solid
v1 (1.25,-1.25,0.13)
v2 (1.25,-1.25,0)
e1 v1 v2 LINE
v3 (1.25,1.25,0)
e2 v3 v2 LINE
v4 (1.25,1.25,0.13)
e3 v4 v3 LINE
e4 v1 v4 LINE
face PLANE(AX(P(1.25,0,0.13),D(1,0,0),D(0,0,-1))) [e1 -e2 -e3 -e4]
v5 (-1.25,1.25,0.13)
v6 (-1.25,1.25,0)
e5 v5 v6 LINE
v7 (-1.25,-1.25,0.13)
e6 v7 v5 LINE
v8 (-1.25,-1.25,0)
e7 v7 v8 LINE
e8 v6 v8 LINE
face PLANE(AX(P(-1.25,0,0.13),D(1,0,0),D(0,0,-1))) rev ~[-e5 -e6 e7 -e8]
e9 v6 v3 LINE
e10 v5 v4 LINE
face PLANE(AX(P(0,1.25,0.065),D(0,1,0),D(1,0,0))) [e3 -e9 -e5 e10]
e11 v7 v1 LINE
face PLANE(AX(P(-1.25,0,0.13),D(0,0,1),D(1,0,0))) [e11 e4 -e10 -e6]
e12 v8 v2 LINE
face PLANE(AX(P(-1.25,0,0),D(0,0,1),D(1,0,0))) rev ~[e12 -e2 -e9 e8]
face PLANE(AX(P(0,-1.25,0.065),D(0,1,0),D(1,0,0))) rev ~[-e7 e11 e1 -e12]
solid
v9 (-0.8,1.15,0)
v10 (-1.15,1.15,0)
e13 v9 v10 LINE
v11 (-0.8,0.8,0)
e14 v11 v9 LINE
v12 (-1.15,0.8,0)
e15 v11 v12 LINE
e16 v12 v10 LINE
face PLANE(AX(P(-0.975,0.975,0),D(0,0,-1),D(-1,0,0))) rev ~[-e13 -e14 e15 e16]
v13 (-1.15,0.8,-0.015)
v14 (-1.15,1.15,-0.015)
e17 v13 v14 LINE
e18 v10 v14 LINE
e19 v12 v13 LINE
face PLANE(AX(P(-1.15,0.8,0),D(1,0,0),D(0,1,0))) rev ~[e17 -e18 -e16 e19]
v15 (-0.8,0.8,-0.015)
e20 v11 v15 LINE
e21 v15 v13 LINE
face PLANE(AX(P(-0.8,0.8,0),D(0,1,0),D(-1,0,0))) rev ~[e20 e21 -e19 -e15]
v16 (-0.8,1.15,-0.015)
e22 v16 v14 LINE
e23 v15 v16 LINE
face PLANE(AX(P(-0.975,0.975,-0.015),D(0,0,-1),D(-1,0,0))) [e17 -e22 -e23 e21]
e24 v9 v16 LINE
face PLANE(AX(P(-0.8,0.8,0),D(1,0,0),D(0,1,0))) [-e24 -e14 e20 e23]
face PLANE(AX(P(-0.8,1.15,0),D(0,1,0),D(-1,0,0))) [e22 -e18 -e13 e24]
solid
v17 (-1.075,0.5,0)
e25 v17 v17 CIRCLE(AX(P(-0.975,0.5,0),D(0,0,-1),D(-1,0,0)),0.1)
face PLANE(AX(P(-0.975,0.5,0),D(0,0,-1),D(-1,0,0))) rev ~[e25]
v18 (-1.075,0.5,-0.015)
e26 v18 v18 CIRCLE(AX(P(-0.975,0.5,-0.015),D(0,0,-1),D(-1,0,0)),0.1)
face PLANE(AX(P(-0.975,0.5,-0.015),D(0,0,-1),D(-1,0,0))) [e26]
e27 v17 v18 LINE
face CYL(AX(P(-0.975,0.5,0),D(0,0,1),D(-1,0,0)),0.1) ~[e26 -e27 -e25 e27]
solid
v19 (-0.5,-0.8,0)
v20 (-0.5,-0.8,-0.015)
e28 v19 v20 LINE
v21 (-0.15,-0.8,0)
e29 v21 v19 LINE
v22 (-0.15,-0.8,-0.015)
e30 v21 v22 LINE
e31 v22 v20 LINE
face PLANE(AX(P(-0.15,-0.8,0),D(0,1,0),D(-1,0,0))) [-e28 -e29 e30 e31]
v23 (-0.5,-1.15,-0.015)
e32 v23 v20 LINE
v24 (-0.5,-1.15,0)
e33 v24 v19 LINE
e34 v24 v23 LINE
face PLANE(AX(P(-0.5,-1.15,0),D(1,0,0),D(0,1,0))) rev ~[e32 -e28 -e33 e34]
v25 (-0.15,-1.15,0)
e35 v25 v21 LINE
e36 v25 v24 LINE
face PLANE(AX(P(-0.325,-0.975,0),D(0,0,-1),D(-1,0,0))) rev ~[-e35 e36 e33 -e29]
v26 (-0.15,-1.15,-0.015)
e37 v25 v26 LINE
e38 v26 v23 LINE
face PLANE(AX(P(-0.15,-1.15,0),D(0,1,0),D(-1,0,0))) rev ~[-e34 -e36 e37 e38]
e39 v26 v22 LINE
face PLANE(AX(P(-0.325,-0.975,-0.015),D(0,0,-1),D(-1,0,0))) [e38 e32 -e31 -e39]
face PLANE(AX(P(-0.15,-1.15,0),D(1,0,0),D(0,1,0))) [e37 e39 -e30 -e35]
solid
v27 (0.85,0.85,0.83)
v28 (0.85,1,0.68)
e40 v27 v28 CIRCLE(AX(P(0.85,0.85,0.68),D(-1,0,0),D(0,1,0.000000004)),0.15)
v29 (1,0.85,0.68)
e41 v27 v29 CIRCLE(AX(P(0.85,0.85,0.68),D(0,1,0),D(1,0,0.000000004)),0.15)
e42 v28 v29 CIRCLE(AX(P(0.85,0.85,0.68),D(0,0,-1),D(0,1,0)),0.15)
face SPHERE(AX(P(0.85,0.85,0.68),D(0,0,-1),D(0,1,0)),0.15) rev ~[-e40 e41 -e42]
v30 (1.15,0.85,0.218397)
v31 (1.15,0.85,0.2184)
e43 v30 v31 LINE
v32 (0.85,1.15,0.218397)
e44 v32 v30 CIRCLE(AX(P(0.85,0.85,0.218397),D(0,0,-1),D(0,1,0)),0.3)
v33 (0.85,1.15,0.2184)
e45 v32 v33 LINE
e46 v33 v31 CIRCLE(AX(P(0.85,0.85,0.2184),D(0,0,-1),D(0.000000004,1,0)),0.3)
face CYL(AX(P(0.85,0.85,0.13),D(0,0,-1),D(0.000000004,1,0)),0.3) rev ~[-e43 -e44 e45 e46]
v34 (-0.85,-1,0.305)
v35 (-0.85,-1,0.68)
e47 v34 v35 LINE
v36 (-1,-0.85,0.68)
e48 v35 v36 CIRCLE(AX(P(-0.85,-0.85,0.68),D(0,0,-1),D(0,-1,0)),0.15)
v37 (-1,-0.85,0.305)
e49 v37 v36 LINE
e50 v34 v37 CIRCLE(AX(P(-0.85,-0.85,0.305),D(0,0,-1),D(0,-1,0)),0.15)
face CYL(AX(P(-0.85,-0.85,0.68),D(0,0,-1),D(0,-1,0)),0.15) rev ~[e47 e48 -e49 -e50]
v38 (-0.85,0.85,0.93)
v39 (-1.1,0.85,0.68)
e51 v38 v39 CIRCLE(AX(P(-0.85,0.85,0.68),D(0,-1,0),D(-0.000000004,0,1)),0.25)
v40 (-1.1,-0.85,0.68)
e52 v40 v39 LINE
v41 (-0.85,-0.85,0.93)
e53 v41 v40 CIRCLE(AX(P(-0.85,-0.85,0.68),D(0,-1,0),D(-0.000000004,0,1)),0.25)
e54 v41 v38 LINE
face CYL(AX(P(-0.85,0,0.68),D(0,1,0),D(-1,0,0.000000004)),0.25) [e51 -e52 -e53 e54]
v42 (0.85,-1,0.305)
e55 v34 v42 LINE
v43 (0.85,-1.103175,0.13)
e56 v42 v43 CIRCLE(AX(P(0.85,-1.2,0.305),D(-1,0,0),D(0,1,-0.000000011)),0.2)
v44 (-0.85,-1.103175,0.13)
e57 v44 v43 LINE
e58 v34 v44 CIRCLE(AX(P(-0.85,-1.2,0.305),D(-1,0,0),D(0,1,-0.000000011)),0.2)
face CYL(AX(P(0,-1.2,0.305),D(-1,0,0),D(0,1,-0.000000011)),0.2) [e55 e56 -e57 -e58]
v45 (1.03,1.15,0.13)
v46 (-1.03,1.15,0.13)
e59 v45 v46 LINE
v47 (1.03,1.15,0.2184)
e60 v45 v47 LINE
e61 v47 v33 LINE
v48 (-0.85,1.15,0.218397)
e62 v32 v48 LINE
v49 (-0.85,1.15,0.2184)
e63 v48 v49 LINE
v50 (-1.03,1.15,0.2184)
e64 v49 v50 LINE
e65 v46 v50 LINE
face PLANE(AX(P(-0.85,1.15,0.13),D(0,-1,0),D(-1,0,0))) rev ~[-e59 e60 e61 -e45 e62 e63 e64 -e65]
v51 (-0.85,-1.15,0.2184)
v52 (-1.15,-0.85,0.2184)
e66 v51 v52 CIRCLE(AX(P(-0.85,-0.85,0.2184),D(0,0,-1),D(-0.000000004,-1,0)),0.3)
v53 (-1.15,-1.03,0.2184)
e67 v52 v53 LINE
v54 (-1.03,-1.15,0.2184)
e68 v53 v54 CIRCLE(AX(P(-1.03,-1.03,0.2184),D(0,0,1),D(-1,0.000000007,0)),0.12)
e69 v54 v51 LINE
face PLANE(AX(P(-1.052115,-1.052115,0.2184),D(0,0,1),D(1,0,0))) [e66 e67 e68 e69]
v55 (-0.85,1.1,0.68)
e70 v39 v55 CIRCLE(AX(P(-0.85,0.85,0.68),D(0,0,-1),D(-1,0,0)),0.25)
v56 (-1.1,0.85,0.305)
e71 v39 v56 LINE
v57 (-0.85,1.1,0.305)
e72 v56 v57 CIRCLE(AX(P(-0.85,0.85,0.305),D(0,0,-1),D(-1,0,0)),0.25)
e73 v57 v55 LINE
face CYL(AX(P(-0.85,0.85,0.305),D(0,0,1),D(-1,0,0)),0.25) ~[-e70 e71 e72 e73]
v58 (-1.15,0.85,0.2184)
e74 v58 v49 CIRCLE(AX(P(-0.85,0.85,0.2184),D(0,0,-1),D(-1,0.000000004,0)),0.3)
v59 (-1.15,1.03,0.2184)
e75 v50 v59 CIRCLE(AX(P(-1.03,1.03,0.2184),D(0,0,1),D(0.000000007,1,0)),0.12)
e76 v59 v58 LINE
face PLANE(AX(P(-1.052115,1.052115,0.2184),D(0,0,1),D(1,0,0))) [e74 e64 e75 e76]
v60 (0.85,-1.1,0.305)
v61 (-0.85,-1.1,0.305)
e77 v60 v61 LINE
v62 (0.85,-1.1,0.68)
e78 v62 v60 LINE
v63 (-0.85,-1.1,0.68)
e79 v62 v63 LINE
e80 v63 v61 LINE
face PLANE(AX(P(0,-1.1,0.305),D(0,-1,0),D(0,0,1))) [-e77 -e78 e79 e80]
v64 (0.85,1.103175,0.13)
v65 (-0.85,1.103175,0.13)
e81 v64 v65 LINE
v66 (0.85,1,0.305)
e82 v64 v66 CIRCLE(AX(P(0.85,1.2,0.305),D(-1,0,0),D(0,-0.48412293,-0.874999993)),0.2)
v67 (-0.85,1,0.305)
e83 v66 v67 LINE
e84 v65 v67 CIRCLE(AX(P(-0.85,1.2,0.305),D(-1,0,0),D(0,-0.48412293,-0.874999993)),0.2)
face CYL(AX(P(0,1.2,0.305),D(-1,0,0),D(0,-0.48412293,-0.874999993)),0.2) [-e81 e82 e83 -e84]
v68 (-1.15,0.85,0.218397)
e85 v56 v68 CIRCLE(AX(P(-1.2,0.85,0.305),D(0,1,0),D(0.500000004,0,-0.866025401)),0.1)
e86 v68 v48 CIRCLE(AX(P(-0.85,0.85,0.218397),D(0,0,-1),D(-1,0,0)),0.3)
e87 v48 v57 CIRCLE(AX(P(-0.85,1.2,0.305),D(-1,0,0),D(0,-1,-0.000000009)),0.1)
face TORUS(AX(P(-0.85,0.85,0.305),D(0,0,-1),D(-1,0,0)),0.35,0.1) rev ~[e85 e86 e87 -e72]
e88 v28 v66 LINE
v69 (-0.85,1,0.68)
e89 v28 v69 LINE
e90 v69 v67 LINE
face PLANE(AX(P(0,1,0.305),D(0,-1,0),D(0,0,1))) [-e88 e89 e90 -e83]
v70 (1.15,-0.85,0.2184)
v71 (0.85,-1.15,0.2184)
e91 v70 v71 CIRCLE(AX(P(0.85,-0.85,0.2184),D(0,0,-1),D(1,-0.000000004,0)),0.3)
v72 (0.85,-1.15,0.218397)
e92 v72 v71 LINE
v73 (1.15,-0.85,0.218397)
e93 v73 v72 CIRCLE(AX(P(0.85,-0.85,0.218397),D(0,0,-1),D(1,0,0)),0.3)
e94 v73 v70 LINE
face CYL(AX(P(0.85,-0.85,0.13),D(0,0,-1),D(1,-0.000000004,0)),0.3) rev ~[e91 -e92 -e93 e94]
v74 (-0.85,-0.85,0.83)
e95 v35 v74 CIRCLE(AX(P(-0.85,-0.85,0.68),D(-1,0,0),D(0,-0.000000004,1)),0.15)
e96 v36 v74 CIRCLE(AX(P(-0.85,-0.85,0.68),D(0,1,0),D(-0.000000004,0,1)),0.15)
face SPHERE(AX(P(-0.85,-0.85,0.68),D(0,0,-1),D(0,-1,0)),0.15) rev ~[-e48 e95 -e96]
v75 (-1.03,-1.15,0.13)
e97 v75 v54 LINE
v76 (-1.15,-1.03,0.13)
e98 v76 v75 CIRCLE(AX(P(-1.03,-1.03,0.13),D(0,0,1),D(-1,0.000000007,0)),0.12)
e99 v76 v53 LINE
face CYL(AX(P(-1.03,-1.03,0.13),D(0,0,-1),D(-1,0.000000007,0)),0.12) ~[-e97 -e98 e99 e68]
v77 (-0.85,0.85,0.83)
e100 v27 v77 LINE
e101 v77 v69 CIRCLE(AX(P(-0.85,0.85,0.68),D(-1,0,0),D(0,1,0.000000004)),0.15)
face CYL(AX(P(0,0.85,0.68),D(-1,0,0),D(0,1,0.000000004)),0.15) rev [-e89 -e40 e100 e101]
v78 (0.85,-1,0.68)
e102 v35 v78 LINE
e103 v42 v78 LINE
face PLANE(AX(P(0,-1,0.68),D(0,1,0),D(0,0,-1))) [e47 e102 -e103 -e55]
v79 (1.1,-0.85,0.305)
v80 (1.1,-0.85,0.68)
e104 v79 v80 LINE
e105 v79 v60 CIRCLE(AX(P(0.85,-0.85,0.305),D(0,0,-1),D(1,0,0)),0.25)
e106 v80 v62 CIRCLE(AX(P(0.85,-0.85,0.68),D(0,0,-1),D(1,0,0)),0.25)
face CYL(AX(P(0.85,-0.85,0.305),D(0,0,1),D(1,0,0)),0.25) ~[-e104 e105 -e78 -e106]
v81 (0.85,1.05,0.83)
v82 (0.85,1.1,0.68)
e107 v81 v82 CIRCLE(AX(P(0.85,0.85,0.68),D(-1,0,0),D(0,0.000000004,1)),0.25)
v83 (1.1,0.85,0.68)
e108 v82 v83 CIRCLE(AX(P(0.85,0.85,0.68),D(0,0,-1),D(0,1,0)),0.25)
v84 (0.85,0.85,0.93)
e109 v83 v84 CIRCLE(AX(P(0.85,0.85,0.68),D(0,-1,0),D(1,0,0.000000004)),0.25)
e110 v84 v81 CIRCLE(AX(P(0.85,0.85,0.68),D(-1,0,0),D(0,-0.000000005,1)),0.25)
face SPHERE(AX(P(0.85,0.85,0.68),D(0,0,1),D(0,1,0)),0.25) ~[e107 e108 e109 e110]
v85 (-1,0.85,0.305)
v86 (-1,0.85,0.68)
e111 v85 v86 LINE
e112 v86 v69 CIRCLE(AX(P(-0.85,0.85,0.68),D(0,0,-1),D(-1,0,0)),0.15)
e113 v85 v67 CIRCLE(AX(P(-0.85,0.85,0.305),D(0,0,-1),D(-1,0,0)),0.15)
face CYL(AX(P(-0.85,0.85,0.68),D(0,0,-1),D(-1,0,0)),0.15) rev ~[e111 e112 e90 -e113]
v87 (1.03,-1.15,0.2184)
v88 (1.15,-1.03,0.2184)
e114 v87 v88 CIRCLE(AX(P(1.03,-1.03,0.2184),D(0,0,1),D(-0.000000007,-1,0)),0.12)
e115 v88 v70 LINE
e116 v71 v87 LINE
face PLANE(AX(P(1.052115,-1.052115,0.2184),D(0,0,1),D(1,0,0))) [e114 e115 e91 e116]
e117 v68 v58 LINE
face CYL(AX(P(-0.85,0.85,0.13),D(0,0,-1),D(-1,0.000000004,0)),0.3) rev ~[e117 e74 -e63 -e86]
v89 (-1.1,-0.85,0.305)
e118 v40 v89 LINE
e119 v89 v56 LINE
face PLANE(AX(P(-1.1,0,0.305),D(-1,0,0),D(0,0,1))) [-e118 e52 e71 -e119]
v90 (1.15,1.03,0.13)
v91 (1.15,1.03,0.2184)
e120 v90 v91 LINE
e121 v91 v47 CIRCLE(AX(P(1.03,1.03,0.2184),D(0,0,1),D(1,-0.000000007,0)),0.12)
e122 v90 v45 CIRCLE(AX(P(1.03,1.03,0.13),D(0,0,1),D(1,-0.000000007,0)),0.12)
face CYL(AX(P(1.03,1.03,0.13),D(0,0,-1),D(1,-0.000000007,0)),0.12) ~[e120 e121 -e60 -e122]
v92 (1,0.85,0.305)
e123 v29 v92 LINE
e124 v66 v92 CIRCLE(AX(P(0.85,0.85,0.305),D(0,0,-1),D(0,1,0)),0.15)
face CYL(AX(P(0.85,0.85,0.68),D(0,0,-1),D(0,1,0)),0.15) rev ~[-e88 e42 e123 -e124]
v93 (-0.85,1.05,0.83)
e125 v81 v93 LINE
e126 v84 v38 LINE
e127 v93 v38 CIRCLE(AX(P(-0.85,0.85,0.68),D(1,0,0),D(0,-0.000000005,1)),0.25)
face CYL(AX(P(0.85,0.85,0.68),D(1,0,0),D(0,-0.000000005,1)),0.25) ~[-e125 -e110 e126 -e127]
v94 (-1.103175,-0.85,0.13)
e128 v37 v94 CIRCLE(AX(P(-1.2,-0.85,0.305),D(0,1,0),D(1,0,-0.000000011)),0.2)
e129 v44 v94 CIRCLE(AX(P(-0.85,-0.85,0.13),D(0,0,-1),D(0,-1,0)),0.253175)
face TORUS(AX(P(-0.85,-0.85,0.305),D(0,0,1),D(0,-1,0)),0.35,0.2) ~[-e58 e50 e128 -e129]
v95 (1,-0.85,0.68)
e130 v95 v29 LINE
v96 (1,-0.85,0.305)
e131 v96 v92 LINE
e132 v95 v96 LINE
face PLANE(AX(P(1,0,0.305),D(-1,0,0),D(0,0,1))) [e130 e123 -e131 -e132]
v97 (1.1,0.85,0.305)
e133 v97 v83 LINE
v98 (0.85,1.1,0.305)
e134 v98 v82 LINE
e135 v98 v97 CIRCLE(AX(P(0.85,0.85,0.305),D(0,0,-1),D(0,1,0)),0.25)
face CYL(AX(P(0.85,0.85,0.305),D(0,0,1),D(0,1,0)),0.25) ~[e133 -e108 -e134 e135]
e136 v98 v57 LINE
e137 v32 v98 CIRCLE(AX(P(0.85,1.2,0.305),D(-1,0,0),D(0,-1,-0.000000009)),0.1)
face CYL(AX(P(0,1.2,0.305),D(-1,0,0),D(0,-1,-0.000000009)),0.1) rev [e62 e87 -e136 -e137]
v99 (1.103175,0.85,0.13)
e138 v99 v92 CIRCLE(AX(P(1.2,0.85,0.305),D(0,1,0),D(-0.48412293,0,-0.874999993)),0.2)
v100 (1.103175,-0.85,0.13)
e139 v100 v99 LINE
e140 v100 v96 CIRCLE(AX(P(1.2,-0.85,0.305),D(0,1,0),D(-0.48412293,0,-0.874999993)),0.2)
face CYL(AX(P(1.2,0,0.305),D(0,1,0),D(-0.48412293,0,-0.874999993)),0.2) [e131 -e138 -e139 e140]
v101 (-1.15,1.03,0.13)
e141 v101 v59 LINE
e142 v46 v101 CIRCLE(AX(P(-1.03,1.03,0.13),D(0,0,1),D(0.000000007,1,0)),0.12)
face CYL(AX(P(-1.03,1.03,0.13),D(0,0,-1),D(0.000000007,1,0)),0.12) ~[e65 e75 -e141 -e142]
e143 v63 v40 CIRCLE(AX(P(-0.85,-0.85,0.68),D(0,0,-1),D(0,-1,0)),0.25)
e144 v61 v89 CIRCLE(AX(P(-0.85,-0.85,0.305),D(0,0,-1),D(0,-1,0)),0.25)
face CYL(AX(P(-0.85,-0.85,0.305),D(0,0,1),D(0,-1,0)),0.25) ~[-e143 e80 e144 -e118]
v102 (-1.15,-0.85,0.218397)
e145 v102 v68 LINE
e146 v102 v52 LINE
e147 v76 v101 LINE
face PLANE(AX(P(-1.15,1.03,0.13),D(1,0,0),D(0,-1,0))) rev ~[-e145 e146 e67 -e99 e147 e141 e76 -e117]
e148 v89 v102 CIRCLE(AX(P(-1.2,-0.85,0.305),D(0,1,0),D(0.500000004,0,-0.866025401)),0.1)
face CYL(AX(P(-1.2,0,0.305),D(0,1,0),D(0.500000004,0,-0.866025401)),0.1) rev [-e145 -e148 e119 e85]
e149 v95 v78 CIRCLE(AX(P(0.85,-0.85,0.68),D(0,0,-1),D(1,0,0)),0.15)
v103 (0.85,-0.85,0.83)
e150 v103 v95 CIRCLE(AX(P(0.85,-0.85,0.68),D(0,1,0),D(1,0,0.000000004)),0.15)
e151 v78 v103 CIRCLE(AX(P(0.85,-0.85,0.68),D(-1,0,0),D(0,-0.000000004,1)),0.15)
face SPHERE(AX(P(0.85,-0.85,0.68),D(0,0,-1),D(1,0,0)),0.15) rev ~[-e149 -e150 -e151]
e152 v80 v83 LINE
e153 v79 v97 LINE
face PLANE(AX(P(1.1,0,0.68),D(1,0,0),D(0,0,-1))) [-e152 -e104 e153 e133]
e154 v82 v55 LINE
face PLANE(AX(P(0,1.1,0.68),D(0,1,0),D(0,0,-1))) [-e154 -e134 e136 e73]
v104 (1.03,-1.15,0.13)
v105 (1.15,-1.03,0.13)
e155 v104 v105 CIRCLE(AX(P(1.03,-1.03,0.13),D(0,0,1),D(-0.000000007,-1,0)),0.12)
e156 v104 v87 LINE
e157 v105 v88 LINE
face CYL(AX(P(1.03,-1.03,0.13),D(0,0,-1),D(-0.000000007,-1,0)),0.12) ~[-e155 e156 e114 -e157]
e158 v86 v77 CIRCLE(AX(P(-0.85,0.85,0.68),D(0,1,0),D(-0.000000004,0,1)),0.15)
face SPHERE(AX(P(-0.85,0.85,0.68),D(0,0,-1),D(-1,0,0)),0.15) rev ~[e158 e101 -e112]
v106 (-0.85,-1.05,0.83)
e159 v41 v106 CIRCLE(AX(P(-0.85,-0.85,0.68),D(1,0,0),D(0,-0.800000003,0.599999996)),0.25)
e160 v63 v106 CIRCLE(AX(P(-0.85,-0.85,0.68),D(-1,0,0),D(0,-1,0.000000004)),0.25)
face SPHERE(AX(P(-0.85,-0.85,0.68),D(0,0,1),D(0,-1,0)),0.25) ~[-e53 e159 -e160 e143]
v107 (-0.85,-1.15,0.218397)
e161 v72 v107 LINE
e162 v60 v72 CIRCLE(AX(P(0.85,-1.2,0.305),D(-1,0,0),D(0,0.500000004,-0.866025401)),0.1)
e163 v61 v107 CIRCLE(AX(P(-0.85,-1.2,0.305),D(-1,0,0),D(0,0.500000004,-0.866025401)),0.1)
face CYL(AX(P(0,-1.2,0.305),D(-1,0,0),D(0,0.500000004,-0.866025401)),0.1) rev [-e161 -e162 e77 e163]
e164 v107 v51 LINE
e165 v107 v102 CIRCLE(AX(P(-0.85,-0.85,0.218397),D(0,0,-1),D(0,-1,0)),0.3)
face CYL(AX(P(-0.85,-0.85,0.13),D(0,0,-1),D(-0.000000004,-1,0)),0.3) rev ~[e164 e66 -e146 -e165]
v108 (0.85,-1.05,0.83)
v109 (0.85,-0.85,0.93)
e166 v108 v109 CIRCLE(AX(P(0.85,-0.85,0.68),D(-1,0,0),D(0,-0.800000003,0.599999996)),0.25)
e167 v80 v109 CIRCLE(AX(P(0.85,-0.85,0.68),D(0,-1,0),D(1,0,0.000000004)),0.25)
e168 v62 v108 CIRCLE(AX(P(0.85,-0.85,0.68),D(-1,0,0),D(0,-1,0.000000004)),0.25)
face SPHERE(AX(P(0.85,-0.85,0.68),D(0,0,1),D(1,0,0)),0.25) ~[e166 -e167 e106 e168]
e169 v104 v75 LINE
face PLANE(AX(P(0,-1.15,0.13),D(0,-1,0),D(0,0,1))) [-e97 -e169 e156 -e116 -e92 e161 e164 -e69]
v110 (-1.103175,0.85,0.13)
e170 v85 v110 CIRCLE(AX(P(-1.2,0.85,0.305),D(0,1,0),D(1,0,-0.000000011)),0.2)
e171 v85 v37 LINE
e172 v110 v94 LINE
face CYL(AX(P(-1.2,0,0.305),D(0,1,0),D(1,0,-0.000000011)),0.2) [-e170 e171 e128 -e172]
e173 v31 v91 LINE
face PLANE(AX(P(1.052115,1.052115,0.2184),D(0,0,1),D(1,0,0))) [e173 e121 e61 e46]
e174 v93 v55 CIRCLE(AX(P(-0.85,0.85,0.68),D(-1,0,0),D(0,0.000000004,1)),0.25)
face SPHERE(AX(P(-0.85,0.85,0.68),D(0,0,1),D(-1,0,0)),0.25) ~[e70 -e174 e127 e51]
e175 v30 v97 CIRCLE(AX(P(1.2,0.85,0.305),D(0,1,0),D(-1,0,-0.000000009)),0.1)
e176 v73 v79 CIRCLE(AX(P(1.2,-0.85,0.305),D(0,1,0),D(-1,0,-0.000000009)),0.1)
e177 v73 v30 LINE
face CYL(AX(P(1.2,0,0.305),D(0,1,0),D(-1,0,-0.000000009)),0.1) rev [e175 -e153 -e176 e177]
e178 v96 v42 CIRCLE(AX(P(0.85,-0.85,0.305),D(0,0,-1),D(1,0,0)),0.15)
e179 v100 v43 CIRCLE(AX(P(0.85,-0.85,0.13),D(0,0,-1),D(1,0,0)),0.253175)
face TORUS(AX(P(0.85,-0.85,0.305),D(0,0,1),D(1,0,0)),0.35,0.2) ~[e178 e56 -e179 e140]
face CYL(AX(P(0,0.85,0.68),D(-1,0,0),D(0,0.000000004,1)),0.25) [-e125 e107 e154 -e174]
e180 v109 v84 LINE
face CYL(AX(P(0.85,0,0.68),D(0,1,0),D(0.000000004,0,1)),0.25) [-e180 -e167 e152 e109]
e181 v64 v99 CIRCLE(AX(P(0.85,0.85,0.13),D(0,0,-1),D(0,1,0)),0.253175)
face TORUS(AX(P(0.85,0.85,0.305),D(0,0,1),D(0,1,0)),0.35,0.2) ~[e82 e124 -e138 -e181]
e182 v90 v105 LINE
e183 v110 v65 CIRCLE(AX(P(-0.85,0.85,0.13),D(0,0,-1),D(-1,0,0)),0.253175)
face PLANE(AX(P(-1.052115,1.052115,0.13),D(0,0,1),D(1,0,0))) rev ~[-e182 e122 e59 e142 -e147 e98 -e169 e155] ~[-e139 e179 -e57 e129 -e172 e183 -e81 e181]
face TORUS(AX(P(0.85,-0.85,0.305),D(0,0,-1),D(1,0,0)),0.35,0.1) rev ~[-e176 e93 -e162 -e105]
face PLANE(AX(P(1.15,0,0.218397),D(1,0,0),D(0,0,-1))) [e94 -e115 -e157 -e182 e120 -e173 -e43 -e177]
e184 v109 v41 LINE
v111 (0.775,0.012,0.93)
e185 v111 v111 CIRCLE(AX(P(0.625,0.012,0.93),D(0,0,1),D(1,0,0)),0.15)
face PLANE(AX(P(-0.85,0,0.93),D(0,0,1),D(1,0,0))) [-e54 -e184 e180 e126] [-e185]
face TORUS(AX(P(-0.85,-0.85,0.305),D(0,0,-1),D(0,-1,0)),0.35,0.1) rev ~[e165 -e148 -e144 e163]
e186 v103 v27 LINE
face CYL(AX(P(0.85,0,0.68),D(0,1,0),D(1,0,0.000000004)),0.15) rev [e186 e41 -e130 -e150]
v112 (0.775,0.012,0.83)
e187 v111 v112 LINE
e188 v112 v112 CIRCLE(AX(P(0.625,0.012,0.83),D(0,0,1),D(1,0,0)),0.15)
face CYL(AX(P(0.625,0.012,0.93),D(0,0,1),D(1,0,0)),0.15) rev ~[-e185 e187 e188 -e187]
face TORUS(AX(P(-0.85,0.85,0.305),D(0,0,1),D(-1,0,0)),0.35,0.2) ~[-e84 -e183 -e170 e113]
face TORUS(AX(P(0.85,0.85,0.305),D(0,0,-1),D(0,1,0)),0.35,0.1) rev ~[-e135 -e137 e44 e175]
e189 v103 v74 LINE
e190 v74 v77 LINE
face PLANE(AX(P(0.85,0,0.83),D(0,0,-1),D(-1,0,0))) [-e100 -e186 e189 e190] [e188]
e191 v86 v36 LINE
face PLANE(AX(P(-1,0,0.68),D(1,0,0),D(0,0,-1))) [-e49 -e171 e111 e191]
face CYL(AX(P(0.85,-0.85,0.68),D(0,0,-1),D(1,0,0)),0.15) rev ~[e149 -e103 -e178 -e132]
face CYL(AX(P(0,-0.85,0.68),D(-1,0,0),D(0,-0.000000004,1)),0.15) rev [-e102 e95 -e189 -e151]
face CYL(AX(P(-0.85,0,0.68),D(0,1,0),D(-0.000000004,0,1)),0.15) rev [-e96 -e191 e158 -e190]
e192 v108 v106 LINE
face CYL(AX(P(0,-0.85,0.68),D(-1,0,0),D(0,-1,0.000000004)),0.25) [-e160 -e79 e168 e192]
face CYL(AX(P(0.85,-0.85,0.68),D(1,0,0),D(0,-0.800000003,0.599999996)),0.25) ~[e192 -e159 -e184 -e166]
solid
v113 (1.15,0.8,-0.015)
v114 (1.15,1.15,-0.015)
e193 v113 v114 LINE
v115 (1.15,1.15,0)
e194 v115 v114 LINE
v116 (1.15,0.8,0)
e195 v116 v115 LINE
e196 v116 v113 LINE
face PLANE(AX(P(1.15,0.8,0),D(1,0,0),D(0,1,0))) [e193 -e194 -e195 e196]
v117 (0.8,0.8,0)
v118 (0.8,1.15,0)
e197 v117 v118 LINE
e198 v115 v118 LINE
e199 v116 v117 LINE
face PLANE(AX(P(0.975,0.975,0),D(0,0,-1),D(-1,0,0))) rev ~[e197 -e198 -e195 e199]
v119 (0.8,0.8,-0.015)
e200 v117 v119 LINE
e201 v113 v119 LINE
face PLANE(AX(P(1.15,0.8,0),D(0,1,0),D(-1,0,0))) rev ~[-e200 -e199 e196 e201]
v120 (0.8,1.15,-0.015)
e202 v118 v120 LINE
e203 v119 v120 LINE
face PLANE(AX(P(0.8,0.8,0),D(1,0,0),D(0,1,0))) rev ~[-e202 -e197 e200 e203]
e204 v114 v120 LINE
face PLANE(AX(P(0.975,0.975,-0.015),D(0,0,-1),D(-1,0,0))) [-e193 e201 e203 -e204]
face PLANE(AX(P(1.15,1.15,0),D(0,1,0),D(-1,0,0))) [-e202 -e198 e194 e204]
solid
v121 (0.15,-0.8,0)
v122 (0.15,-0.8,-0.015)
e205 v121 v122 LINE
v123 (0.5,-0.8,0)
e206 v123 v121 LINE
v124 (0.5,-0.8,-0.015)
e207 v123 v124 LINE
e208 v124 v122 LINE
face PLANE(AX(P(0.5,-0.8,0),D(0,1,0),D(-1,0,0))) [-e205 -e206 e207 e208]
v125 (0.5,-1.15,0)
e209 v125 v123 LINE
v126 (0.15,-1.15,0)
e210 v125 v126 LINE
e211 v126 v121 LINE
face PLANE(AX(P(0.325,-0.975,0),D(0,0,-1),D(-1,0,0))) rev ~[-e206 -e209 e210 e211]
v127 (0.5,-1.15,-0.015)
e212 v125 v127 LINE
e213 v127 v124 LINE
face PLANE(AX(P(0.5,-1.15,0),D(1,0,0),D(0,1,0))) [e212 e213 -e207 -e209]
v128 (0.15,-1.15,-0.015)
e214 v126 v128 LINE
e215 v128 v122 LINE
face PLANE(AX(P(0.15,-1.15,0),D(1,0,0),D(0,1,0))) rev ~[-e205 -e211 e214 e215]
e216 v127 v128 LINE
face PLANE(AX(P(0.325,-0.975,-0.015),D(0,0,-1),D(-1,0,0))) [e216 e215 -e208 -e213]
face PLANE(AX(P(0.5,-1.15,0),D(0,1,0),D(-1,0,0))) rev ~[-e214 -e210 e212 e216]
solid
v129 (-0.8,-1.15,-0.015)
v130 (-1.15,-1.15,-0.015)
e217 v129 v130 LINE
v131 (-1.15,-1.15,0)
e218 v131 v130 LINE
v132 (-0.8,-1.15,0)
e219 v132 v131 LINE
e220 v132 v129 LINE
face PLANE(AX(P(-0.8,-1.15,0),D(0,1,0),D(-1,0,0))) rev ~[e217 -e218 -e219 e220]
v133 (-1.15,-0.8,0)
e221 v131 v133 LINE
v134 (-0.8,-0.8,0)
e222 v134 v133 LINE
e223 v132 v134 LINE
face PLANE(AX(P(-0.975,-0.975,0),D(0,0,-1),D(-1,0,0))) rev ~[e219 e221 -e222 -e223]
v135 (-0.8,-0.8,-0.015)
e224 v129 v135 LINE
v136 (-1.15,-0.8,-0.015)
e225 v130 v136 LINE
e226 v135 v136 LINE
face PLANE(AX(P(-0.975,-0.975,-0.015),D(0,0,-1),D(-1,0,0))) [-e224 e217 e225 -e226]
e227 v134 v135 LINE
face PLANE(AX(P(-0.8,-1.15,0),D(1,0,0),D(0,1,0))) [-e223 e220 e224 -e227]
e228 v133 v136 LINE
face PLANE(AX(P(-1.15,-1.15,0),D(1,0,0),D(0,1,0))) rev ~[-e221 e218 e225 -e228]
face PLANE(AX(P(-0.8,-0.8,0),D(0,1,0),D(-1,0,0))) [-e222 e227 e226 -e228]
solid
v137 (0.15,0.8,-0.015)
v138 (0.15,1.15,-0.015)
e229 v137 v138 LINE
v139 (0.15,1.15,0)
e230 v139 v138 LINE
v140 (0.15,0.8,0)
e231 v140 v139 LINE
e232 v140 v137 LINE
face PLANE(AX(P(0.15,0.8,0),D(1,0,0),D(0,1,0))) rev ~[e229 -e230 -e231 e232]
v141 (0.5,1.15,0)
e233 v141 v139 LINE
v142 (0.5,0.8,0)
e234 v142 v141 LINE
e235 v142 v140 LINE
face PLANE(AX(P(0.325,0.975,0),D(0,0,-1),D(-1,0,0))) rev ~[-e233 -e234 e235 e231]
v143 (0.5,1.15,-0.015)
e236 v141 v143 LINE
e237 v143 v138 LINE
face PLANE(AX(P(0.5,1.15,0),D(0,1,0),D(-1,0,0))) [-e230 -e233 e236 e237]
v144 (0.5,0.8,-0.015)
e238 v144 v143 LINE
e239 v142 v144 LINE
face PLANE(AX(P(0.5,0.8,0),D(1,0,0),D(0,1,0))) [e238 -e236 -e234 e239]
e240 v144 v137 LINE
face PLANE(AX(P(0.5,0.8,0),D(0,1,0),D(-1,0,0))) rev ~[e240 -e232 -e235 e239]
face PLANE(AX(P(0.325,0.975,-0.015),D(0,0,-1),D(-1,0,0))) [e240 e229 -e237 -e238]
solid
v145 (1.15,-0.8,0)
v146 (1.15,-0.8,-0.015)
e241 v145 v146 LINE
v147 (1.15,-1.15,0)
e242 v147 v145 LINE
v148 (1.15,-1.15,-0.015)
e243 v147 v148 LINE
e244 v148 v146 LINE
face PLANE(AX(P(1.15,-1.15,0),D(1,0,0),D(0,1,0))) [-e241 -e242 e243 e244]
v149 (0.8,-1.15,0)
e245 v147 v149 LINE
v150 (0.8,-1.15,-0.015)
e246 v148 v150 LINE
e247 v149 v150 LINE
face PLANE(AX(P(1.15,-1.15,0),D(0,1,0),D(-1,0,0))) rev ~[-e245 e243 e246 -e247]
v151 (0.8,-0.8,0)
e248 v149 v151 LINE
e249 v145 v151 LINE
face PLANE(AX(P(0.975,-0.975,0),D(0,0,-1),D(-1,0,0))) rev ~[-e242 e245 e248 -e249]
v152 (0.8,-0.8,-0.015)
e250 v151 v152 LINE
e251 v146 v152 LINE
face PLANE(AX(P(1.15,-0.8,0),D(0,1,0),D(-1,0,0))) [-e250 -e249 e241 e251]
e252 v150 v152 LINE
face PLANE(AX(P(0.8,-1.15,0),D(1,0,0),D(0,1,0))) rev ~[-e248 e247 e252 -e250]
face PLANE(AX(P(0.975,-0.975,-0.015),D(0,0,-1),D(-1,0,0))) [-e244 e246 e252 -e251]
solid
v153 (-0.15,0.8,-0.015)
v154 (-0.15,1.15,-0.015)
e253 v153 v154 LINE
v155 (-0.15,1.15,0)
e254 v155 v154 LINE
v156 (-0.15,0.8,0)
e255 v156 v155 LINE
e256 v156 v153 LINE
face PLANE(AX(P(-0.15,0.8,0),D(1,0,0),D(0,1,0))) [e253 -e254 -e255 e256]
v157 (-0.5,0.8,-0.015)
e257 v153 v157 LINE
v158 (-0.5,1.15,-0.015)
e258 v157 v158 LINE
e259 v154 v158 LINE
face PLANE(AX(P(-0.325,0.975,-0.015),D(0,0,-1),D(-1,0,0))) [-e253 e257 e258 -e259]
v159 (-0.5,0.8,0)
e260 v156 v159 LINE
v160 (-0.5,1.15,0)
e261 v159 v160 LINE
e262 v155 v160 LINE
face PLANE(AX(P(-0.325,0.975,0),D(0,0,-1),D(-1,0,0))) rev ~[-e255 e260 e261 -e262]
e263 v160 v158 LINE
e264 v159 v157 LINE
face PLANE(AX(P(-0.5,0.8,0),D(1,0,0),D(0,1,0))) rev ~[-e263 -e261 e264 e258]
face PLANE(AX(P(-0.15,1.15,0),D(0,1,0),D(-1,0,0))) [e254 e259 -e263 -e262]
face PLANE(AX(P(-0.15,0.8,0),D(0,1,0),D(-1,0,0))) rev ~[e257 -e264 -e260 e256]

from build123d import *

# Parameters (mm, degrees)
SKETCH_1_W               = 2.5
SKETCH_1_H               = 0.13
EXTRUDE_1_DEPTH          = 1.25
EXTRUDE_2_DEPTH          = 1.25
PATTERN_CIRCULAR_1_COUNT = 2
PATTERN_CIRCULAR_1_ANGLE = 90
SKETCH_2_W               = 0.4
SKETCH_2_H               = 0.4
CUT_EXTRUDE_1_DEPTH      = 2.940360791
CUT_EXTRUDE_2_DEPTH      = 3.614842251
CUT_EXTRUDE_3_DEPTH      = 3.614842251
REVOLVE_1_ANGLE          = 90
REVOLVE_2_ANGLE          = 90
REVOLVE_3_ANGLE          = 90
REVOLVE_4_ANGLE          = 90
EXTRUDE_3_DEPTH          = 0.0884
SKETCH_10_R              = 0.15
CUT_EXTRUDE_4_DEPTH      = 0.8
SKETCH_11_R              = 0.1
EXTRUDE_4_DEPTH          = 0.015
SKETCH_11_W              = 0.35
SKETCH_11_H              = 0.35
EXTRUDE_4_2_DEPTH        = 0.015
EXTRUDE_4_3_DEPTH        = 0.015
EXTRUDE_4_4_DEPTH        = 0.015
EXTRUDE_4_5_DEPTH        = 0.015
EXTRUDE_4_6_DEPTH        = 0.015
EXTRUDE_4_7_DEPTH        = 0.015
EXTRUDE_4_8_DEPTH        = 0.015
EXTRUDE_4_9_DEPTH        = 0.015


with BuildPart() as part:
    # Эскиз1 → Бобышка-Вытянуть1 (new, symmetric)
    with BuildSketch(Plane(origin=(0, 0, 0), x_dir=(1, 0, 0), z_dir=(0, 1, 0))):
        with Locations((0, -0.065)):
            Rectangle(SKETCH_1_W, SKETCH_1_H)
    extrude(amount=EXTRUDE_1_DEPTH, both=True)


with BuildPart() as body_2:
    # Эскиз1<3> → Бобышка-Вытянуть2 (new, symmetric)
    with BuildSketch(Plane(origin=(0, 0, 0), x_dir=(1, 0, 0), z_dir=(0, 1, 0))):
        with BuildLine():
            Line((-1.103175416, -0.13), (-1.15, -0.13))
            Line((-1.15, -0.13), (-1.15, -0.21839746))
            ThreePointArc((-1.15, -0.21839746), (-1.11339746, -0.255), (-1.1, -0.305))
            Line((-1.1, -0.305), (-1.1, -0.68))
            ThreePointArc((-1.1, -0.68), (-1.026776695, -0.856776695), (-0.85, -0.93))
            Line((-0.85, -0.93), (0, -0.93))
            Line((0, -0.93), (0, -0.83))
            Line((0, -0.83), (-0.85, -0.83))
            ThreePointArc((-0.85, -0.83), (-0.956066017, -0.786066017), (-1, -0.68))
            Line((-1, -0.68), (-1, -0.305))
            ThreePointArc((-1, -0.305), (-1.027714022, -0.2034247), (-1.103175416, -0.13))
        make_face()
        with BuildLine():
            Line((1.15, -0.21839746), (1.15, -0.13))
            Line((1.15, -0.13), (1.103175416, -0.13))
            ThreePointArc((1.103175416, -0.13), (1.027714022, -0.2034247), (1, -0.305))
            Line((1, -0.305), (1, -0.68))
            ThreePointArc((1, -0.68), (0.956066017, -0.786066017), (0.85, -0.83))
            Line((0.85, -0.83), (0, -0.83))
            Line((0, -0.83), (0, -0.93))
            Line((0, -0.93), (0.85, -0.93))
            ThreePointArc((0.85, -0.93), (1.026776695, -0.856776695), (1.1, -0.68))
            Line((1.1, -0.68), (1.1, -0.305))
            ThreePointArc((1.1, -0.305), (1.11339746, -0.255), (1.15, -0.21839746))
        make_face()
    extrude(amount=EXTRUDE_2_DEPTH, both=True)


with BuildPart() as pattern_circular_1_1:
    # Круговой массив1: pattern copy
    add(body_2.part.rotate(Axis((0, 0, 0), (0, 0, 1)), 1 * PATTERN_CIRCULAR_1_ANGLE / (PATTERN_CIRCULAR_1_COUNT - 1)))


with BuildPart() as cut_extrude_1_tool:
    # Эскиз2 → Вырез-Вытянуть1 (new, through all)
    with BuildSketch(Plane.XY.offset(0.13)):
        with Locations((-1.05, 1.05)):
            Rectangle(SKETCH_2_W, SKETCH_2_H)
        with Locations((1.05, 1.05)):
            Rectangle(SKETCH_2_W, SKETCH_2_H)
        with Locations((-1.05, -1.05)):
            Rectangle(SKETCH_2_W, SKETCH_2_H)
        with Locations((1.05, -1.05)):
            Rectangle(SKETCH_2_W, SKETCH_2_H)
    extrude(amount=CUT_EXTRUDE_1_DEPTH)


with BuildPart() as body_2_1:
    add(body_2.part)

    # Вырез-Вытянуть1: cut by cut_extrude_1_tool
    add(cut_extrude_1_tool.part, mode=Mode.SUBTRACT)

    # Эскиз4 → Вырез-Вытянуть3 (cut, through all)
    with BuildSketch(Plane(origin=(0.85, 0, 0), x_dir=(0, 0, -1), z_dir=(1, 0, 0))):
        with BuildLine():
            ThreePointArc((-0.83, -1.05), (-0.903606798, -0.961803399), (-0.93, -0.85))
            Line((-0.93, -0.85), (-0.93, -1.25))
            Line((-0.93, -1.25), (-0.83, -1.25))
            Line((-0.83, -1.25), (-0.83, -1.05))
        make_face()
        with BuildLine():
            Line((-0.93, 1.25), (-0.93, 0.85))
            ThreePointArc((-0.93, 0.85), (-0.903606798, 0.961803399), (-0.83, 1.05))
            Line((-0.83, 1.05), (-0.83, 1.25))
            Line((-0.83, 1.25), (-0.93, 1.25))
        make_face()
    extrude(amount=-CUT_EXTRUDE_3_DEPTH, mode=Mode.SUBTRACT)



with BuildPart() as pattern_circular_1_1_1:
    add(pattern_circular_1_1.part)

    # Вырез-Вытянуть1: cut by cut_extrude_1_tool
    add(cut_extrude_1_tool.part, mode=Mode.SUBTRACT)

    # Эскиз3 → Вырез-Вытянуть2 (cut, through all)
    with BuildSketch(Plane.XZ.offset(0.85)):
        with BuildLine():
            ThreePointArc((-1.05, 0.83), (-0.961803399, 0.903606798), (-0.85, 0.93))
            Line((-0.85, 0.93), (-1.25, 0.93))
            Line((-1.25, 0.93), (-1.25, 0.83))
            Line((-1.25, 0.83), (-1.05, 0.83))
        make_face()
        with BuildLine():
            Line((1.25, 0.93), (0.85, 0.93))
            ThreePointArc((0.85, 0.93), (0.961803399, 0.903606798), (1.05, 0.83))
            Line((1.05, 0.83), (1.25, 0.83))
            Line((1.25, 0.83), (1.25, 0.93))
        make_face()
    extrude(amount=-CUT_EXTRUDE_2_DEPTH, mode=Mode.SUBTRACT)


with BuildPart() as body_2_2:
    add(body_2_1.part)

    add(pattern_circular_1_1_1.part)  # Повернуть1 merges Круговой массив1_1
    # Эскиз5 → Повернуть1 (revolve)
    with BuildSketch(Plane(origin=(0.85, 0, 0), x_dir=(0, 0, -1), z_dir=(1, 0, 0))):
        with BuildLine():
            Line((-0.68, 1), (-0.305, 1))
            ThreePointArc((-0.305, 1), (-0.2034247, 1.027714022), (-0.13, 1.103175416))
            Line((-0.13, 1.103175416), (-0.13, 1.15))
            Line((-0.13, 1.15), (-0.21839746, 1.15))
            ThreePointArc((-0.21839746, 1.15), (-0.255, 1.11339746), (-0.305, 1.1))
            Line((-0.305, 1.1), (-0.68, 1.1))
            ThreePointArc((-0.68, 1.1), (-0.856776695, 1.026776695), (-0.93, 0.85))
            Line((-0.93, 0.85), (-0.83, 0.85))
            ThreePointArc((-0.83, 0.85), (-0.786066017, 0.956066017), (-0.68, 1))
        make_face()
    revolve(axis=Axis((0.85, 0.85, 0.93), (0, 0, -1)), revolution_arc=REVOLVE_1_ANGLE)

    # Эскиз6 → Повернуть2 (revolve)
    with BuildSketch(Plane.XZ.offset(0.85)):
        with BuildLine():
            Line((0.85, 0.93), (0.85, 0.83))
            ThreePointArc((0.85, 0.83), (0.956066017, 0.786066017), (1, 0.68))
            Line((1, 0.68), (1, 0.305))
            ThreePointArc((1, 0.305), (1.027714022, 0.2034247), (1.103175416, 0.13))
            Line((1.103175416, 0.13), (1.15, 0.13))
            Line((1.15, 0.13), (1.15, 0.21839746))
            ThreePointArc((1.15, 0.21839746), (1.11339746, 0.255), (1.1, 0.305))
            Line((1.1, 0.305), (1.1, 0.68))
            ThreePointArc((1.1, 0.68), (1.026776695, 0.856776695), (0.85, 0.93))
        make_face()
    revolve(axis=Axis((0.85, -0.85, 0.93), (0, 0, -1)), revolution_arc=REVOLVE_2_ANGLE)

    # Эскиз7 → Повернуть3 (revolve)
    with BuildSketch(Plane.ZY.offset(0.85)):
        with BuildLine():
            Line((0.93, -0.85), (0.83, -0.85))
            ThreePointArc((0.83, -0.85), (0.786066017, -0.956066017), (0.68, -1))
            Line((0.68, -1), (0.305, -1))
            ThreePointArc((0.305, -1), (0.2034247, -1.027714022), (0.13, -1.103175416))
            Line((0.13, -1.103175416), (0.13, -1.15))
            Line((0.13, -1.15), (0.21839746, -1.15))
            ThreePointArc((0.21839746, -1.15), (0.255, -1.11339746), (0.305, -1.1))
            Line((0.305, -1.1), (0.68, -1.1))
            ThreePointArc((0.68, -1.1), (0.856776695, -1.026776695), (0.93, -0.85))
        make_face()
    revolve(axis=Axis((-0.85, -0.85, 0.93), (0, 0, -1)), revolution_arc=REVOLVE_3_ANGLE)

    # Эскиз8 → Повернуть4 (revolve)
    with BuildSketch(Plane(origin=(0, 0.85, 0), x_dir=(1, 0, 0), z_dir=(0, 1, 0))):
        with BuildLine():
            Line((-0.85, -0.93), (-0.85, -0.83))
            ThreePointArc((-0.85, -0.83), (-0.956066017, -0.786066017), (-1, -0.68))
            Line((-1, -0.68), (-1, -0.305))
            ThreePointArc((-1, -0.305), (-1.027714022, -0.2034247), (-1.103175416, -0.13))
            Line((-1.103175416, -0.13), (-1.15, -0.13))
            Line((-1.15, -0.13), (-1.15, -0.21839746))
            ThreePointArc((-1.15, -0.21839746), (-1.11339746, -0.255), (-1.1, -0.305))
            Line((-1.1, -0.305), (-1.1, -0.68))
            ThreePointArc((-1.1, -0.68), (-1.026776695, -0.856776695), (-0.85, -0.93))
        make_face()
    revolve(axis=Axis((-0.85, 0.85, 0.93), (0, 0, -1)), revolution_arc=REVOLVE_4_ANGLE)

    # Эскиз9 → Бобышка-Вытянуть3 (add)
    with BuildSketch(Plane.XY.offset(0.13)):
        with BuildLine():
            Line((-0.85, 1.15), (-1.03, 1.15))
            ThreePointArc((-1.03, 1.15), (-1.114852814, 1.114852814), (-1.15, 1.03))
            Line((-1.15, 1.03), (-1.15, 0.85))
            ThreePointArc((-1.15, 0.85), (-1.062132034, 1.062132034), (-0.85, 1.15))
        make_face()
        with BuildLine():
            Line((1.03, 1.15), (0.85, 1.15))
            ThreePointArc((0.85, 1.15), (1.062132034, 1.062132034), (1.15, 0.85))
            Line((1.15, 0.85), (1.15, 1.03))
            ThreePointArc((1.15, 1.03), (1.114852814, 1.114852814), (1.03, 1.15))
        make_face()
        with BuildLine():
            ThreePointArc((-0.85, -1.15), (-1.062132034, -1.062132034), (-1.15, -0.85))
            Line((-1.15, -0.85), (-1.15, -1.03))
            ThreePointArc((-1.15, -1.03), (-1.114852814, -1.114852814), (-1.03, -1.15))
            Line((-1.03, -1.15), (-0.85, -1.15))
        make_face()
        with BuildLine():
            Line((1.15, -1.03), (1.15, -0.85))
            ThreePointArc((1.15, -0.85), (1.062132034, -1.062132034), (0.85, -1.15))
            Line((0.85, -1.15), (1.03, -1.15))
            ThreePointArc((1.03, -1.15), (1.114852814, -1.114852814), (1.15, -1.03))
        make_face()
    extrude(amount=EXTRUDE_3_DEPTH)

    # Эскиз10 → Вырез-Вытянуть4 (cut)
    with BuildSketch(Plane.XY.offset(0.93)):
        with Locations((0.625, 0.012)):
            Circle(SKETCH_10_R)
    extrude(amount=-CUT_EXTRUDE_4_DEPTH, mode=Mode.SUBTRACT)


with BuildPart() as body_3:
    # Эскиз11 → Бобышка-Вытянуть4 (new body)
    with BuildSketch(Plane(origin=(0, 0, 0), x_dir=(-1, 0, 0), z_dir=(0, 0, -1))):
        with Locations((0.975, 0.5)):
            Circle(SKETCH_11_R)
    extrude(amount=EXTRUDE_4_DEPTH)


with BuildPart() as body_4:
    # Эскиз11 → Extrude 4 2 (new body)
    with BuildSketch(Plane(origin=(0, 0, 0), x_dir=(-1, 0, 0), z_dir=(0, 0, -1))):
        with Locations((-0.975, 0.975)):
            Rectangle(SKETCH_11_W, SKETCH_11_H)
    extrude(amount=EXTRUDE_4_2_DEPTH)


with BuildPart() as body_5:
    # Эскиз11 → Extrude 4 3 (new body)
    with BuildSketch(Plane(origin=(0, 0, 0), x_dir=(-1, 0, 0), z_dir=(0, 0, -1))):
        with Locations((-0.325, 0.975)):
            Rectangle(SKETCH_11_W, SKETCH_11_H)
    extrude(amount=EXTRUDE_4_3_DEPTH)


with BuildPart() as body_6:
    # Эскиз11 → Extrude 4 4 (new body)
    with BuildSketch(Plane(origin=(0, 0, 0), x_dir=(-1, 0, 0), z_dir=(0, 0, -1))):
        with Locations((0.325, 0.975)):
            Rectangle(SKETCH_11_W, SKETCH_11_H)
    extrude(amount=EXTRUDE_4_4_DEPTH)


with BuildPart() as body_7:
    # Эскиз11 → Extrude 4 5 (new body)
    with BuildSketch(Plane(origin=(0, 0, 0), x_dir=(-1, 0, 0), z_dir=(0, 0, -1))):
        with Locations((0.975, 0.975)):
            Rectangle(SKETCH_11_W, SKETCH_11_H)
    extrude(amount=EXTRUDE_4_5_DEPTH)


with BuildPart() as body_8:
    # Эскиз11 → Extrude 4 6 (new body)
    with BuildSketch(Plane(origin=(0, 0, 0), x_dir=(-1, 0, 0), z_dir=(0, 0, -1))):
        with Locations((-0.975, -0.975)):
            Rectangle(SKETCH_11_W, SKETCH_11_H)
    extrude(amount=EXTRUDE_4_6_DEPTH)


with BuildPart() as body_9:
    # Эскиз11 → Extrude 4 7 (new body)
    with BuildSketch(Plane(origin=(0, 0, 0), x_dir=(-1, 0, 0), z_dir=(0, 0, -1))):
        with Locations((-0.325, -0.975)):
            Rectangle(SKETCH_11_W, SKETCH_11_H)
    extrude(amount=EXTRUDE_4_7_DEPTH)


with BuildPart() as body_10:
    # Эскиз11 → Extrude 4 8 (new body)
    with BuildSketch(Plane(origin=(0, 0, 0), x_dir=(-1, 0, 0), z_dir=(0, 0, -1))):
        with Locations((0.325, -0.975)):
            Rectangle(SKETCH_11_W, SKETCH_11_H)
    extrude(amount=EXTRUDE_4_8_DEPTH)


with BuildPart() as body_11:
    # Эскиз11 → Extrude 4 9 (new body)
    with BuildSketch(Plane(origin=(0, 0, 0), x_dir=(-1, 0, 0), z_dir=(0, 0, -1))):
        with Locations((0.975, -0.975)):
            Rectangle(SKETCH_11_W, SKETCH_11_H)
    extrude(amount=EXTRUDE_4_9_DEPTH)


solid = Compound([part.part, body_2_2.part, body_3.part, body_4.part, body_5.part, body_6.part, body_7.part, body_8.part, body_9.part, body_10.part, body_11.part])
